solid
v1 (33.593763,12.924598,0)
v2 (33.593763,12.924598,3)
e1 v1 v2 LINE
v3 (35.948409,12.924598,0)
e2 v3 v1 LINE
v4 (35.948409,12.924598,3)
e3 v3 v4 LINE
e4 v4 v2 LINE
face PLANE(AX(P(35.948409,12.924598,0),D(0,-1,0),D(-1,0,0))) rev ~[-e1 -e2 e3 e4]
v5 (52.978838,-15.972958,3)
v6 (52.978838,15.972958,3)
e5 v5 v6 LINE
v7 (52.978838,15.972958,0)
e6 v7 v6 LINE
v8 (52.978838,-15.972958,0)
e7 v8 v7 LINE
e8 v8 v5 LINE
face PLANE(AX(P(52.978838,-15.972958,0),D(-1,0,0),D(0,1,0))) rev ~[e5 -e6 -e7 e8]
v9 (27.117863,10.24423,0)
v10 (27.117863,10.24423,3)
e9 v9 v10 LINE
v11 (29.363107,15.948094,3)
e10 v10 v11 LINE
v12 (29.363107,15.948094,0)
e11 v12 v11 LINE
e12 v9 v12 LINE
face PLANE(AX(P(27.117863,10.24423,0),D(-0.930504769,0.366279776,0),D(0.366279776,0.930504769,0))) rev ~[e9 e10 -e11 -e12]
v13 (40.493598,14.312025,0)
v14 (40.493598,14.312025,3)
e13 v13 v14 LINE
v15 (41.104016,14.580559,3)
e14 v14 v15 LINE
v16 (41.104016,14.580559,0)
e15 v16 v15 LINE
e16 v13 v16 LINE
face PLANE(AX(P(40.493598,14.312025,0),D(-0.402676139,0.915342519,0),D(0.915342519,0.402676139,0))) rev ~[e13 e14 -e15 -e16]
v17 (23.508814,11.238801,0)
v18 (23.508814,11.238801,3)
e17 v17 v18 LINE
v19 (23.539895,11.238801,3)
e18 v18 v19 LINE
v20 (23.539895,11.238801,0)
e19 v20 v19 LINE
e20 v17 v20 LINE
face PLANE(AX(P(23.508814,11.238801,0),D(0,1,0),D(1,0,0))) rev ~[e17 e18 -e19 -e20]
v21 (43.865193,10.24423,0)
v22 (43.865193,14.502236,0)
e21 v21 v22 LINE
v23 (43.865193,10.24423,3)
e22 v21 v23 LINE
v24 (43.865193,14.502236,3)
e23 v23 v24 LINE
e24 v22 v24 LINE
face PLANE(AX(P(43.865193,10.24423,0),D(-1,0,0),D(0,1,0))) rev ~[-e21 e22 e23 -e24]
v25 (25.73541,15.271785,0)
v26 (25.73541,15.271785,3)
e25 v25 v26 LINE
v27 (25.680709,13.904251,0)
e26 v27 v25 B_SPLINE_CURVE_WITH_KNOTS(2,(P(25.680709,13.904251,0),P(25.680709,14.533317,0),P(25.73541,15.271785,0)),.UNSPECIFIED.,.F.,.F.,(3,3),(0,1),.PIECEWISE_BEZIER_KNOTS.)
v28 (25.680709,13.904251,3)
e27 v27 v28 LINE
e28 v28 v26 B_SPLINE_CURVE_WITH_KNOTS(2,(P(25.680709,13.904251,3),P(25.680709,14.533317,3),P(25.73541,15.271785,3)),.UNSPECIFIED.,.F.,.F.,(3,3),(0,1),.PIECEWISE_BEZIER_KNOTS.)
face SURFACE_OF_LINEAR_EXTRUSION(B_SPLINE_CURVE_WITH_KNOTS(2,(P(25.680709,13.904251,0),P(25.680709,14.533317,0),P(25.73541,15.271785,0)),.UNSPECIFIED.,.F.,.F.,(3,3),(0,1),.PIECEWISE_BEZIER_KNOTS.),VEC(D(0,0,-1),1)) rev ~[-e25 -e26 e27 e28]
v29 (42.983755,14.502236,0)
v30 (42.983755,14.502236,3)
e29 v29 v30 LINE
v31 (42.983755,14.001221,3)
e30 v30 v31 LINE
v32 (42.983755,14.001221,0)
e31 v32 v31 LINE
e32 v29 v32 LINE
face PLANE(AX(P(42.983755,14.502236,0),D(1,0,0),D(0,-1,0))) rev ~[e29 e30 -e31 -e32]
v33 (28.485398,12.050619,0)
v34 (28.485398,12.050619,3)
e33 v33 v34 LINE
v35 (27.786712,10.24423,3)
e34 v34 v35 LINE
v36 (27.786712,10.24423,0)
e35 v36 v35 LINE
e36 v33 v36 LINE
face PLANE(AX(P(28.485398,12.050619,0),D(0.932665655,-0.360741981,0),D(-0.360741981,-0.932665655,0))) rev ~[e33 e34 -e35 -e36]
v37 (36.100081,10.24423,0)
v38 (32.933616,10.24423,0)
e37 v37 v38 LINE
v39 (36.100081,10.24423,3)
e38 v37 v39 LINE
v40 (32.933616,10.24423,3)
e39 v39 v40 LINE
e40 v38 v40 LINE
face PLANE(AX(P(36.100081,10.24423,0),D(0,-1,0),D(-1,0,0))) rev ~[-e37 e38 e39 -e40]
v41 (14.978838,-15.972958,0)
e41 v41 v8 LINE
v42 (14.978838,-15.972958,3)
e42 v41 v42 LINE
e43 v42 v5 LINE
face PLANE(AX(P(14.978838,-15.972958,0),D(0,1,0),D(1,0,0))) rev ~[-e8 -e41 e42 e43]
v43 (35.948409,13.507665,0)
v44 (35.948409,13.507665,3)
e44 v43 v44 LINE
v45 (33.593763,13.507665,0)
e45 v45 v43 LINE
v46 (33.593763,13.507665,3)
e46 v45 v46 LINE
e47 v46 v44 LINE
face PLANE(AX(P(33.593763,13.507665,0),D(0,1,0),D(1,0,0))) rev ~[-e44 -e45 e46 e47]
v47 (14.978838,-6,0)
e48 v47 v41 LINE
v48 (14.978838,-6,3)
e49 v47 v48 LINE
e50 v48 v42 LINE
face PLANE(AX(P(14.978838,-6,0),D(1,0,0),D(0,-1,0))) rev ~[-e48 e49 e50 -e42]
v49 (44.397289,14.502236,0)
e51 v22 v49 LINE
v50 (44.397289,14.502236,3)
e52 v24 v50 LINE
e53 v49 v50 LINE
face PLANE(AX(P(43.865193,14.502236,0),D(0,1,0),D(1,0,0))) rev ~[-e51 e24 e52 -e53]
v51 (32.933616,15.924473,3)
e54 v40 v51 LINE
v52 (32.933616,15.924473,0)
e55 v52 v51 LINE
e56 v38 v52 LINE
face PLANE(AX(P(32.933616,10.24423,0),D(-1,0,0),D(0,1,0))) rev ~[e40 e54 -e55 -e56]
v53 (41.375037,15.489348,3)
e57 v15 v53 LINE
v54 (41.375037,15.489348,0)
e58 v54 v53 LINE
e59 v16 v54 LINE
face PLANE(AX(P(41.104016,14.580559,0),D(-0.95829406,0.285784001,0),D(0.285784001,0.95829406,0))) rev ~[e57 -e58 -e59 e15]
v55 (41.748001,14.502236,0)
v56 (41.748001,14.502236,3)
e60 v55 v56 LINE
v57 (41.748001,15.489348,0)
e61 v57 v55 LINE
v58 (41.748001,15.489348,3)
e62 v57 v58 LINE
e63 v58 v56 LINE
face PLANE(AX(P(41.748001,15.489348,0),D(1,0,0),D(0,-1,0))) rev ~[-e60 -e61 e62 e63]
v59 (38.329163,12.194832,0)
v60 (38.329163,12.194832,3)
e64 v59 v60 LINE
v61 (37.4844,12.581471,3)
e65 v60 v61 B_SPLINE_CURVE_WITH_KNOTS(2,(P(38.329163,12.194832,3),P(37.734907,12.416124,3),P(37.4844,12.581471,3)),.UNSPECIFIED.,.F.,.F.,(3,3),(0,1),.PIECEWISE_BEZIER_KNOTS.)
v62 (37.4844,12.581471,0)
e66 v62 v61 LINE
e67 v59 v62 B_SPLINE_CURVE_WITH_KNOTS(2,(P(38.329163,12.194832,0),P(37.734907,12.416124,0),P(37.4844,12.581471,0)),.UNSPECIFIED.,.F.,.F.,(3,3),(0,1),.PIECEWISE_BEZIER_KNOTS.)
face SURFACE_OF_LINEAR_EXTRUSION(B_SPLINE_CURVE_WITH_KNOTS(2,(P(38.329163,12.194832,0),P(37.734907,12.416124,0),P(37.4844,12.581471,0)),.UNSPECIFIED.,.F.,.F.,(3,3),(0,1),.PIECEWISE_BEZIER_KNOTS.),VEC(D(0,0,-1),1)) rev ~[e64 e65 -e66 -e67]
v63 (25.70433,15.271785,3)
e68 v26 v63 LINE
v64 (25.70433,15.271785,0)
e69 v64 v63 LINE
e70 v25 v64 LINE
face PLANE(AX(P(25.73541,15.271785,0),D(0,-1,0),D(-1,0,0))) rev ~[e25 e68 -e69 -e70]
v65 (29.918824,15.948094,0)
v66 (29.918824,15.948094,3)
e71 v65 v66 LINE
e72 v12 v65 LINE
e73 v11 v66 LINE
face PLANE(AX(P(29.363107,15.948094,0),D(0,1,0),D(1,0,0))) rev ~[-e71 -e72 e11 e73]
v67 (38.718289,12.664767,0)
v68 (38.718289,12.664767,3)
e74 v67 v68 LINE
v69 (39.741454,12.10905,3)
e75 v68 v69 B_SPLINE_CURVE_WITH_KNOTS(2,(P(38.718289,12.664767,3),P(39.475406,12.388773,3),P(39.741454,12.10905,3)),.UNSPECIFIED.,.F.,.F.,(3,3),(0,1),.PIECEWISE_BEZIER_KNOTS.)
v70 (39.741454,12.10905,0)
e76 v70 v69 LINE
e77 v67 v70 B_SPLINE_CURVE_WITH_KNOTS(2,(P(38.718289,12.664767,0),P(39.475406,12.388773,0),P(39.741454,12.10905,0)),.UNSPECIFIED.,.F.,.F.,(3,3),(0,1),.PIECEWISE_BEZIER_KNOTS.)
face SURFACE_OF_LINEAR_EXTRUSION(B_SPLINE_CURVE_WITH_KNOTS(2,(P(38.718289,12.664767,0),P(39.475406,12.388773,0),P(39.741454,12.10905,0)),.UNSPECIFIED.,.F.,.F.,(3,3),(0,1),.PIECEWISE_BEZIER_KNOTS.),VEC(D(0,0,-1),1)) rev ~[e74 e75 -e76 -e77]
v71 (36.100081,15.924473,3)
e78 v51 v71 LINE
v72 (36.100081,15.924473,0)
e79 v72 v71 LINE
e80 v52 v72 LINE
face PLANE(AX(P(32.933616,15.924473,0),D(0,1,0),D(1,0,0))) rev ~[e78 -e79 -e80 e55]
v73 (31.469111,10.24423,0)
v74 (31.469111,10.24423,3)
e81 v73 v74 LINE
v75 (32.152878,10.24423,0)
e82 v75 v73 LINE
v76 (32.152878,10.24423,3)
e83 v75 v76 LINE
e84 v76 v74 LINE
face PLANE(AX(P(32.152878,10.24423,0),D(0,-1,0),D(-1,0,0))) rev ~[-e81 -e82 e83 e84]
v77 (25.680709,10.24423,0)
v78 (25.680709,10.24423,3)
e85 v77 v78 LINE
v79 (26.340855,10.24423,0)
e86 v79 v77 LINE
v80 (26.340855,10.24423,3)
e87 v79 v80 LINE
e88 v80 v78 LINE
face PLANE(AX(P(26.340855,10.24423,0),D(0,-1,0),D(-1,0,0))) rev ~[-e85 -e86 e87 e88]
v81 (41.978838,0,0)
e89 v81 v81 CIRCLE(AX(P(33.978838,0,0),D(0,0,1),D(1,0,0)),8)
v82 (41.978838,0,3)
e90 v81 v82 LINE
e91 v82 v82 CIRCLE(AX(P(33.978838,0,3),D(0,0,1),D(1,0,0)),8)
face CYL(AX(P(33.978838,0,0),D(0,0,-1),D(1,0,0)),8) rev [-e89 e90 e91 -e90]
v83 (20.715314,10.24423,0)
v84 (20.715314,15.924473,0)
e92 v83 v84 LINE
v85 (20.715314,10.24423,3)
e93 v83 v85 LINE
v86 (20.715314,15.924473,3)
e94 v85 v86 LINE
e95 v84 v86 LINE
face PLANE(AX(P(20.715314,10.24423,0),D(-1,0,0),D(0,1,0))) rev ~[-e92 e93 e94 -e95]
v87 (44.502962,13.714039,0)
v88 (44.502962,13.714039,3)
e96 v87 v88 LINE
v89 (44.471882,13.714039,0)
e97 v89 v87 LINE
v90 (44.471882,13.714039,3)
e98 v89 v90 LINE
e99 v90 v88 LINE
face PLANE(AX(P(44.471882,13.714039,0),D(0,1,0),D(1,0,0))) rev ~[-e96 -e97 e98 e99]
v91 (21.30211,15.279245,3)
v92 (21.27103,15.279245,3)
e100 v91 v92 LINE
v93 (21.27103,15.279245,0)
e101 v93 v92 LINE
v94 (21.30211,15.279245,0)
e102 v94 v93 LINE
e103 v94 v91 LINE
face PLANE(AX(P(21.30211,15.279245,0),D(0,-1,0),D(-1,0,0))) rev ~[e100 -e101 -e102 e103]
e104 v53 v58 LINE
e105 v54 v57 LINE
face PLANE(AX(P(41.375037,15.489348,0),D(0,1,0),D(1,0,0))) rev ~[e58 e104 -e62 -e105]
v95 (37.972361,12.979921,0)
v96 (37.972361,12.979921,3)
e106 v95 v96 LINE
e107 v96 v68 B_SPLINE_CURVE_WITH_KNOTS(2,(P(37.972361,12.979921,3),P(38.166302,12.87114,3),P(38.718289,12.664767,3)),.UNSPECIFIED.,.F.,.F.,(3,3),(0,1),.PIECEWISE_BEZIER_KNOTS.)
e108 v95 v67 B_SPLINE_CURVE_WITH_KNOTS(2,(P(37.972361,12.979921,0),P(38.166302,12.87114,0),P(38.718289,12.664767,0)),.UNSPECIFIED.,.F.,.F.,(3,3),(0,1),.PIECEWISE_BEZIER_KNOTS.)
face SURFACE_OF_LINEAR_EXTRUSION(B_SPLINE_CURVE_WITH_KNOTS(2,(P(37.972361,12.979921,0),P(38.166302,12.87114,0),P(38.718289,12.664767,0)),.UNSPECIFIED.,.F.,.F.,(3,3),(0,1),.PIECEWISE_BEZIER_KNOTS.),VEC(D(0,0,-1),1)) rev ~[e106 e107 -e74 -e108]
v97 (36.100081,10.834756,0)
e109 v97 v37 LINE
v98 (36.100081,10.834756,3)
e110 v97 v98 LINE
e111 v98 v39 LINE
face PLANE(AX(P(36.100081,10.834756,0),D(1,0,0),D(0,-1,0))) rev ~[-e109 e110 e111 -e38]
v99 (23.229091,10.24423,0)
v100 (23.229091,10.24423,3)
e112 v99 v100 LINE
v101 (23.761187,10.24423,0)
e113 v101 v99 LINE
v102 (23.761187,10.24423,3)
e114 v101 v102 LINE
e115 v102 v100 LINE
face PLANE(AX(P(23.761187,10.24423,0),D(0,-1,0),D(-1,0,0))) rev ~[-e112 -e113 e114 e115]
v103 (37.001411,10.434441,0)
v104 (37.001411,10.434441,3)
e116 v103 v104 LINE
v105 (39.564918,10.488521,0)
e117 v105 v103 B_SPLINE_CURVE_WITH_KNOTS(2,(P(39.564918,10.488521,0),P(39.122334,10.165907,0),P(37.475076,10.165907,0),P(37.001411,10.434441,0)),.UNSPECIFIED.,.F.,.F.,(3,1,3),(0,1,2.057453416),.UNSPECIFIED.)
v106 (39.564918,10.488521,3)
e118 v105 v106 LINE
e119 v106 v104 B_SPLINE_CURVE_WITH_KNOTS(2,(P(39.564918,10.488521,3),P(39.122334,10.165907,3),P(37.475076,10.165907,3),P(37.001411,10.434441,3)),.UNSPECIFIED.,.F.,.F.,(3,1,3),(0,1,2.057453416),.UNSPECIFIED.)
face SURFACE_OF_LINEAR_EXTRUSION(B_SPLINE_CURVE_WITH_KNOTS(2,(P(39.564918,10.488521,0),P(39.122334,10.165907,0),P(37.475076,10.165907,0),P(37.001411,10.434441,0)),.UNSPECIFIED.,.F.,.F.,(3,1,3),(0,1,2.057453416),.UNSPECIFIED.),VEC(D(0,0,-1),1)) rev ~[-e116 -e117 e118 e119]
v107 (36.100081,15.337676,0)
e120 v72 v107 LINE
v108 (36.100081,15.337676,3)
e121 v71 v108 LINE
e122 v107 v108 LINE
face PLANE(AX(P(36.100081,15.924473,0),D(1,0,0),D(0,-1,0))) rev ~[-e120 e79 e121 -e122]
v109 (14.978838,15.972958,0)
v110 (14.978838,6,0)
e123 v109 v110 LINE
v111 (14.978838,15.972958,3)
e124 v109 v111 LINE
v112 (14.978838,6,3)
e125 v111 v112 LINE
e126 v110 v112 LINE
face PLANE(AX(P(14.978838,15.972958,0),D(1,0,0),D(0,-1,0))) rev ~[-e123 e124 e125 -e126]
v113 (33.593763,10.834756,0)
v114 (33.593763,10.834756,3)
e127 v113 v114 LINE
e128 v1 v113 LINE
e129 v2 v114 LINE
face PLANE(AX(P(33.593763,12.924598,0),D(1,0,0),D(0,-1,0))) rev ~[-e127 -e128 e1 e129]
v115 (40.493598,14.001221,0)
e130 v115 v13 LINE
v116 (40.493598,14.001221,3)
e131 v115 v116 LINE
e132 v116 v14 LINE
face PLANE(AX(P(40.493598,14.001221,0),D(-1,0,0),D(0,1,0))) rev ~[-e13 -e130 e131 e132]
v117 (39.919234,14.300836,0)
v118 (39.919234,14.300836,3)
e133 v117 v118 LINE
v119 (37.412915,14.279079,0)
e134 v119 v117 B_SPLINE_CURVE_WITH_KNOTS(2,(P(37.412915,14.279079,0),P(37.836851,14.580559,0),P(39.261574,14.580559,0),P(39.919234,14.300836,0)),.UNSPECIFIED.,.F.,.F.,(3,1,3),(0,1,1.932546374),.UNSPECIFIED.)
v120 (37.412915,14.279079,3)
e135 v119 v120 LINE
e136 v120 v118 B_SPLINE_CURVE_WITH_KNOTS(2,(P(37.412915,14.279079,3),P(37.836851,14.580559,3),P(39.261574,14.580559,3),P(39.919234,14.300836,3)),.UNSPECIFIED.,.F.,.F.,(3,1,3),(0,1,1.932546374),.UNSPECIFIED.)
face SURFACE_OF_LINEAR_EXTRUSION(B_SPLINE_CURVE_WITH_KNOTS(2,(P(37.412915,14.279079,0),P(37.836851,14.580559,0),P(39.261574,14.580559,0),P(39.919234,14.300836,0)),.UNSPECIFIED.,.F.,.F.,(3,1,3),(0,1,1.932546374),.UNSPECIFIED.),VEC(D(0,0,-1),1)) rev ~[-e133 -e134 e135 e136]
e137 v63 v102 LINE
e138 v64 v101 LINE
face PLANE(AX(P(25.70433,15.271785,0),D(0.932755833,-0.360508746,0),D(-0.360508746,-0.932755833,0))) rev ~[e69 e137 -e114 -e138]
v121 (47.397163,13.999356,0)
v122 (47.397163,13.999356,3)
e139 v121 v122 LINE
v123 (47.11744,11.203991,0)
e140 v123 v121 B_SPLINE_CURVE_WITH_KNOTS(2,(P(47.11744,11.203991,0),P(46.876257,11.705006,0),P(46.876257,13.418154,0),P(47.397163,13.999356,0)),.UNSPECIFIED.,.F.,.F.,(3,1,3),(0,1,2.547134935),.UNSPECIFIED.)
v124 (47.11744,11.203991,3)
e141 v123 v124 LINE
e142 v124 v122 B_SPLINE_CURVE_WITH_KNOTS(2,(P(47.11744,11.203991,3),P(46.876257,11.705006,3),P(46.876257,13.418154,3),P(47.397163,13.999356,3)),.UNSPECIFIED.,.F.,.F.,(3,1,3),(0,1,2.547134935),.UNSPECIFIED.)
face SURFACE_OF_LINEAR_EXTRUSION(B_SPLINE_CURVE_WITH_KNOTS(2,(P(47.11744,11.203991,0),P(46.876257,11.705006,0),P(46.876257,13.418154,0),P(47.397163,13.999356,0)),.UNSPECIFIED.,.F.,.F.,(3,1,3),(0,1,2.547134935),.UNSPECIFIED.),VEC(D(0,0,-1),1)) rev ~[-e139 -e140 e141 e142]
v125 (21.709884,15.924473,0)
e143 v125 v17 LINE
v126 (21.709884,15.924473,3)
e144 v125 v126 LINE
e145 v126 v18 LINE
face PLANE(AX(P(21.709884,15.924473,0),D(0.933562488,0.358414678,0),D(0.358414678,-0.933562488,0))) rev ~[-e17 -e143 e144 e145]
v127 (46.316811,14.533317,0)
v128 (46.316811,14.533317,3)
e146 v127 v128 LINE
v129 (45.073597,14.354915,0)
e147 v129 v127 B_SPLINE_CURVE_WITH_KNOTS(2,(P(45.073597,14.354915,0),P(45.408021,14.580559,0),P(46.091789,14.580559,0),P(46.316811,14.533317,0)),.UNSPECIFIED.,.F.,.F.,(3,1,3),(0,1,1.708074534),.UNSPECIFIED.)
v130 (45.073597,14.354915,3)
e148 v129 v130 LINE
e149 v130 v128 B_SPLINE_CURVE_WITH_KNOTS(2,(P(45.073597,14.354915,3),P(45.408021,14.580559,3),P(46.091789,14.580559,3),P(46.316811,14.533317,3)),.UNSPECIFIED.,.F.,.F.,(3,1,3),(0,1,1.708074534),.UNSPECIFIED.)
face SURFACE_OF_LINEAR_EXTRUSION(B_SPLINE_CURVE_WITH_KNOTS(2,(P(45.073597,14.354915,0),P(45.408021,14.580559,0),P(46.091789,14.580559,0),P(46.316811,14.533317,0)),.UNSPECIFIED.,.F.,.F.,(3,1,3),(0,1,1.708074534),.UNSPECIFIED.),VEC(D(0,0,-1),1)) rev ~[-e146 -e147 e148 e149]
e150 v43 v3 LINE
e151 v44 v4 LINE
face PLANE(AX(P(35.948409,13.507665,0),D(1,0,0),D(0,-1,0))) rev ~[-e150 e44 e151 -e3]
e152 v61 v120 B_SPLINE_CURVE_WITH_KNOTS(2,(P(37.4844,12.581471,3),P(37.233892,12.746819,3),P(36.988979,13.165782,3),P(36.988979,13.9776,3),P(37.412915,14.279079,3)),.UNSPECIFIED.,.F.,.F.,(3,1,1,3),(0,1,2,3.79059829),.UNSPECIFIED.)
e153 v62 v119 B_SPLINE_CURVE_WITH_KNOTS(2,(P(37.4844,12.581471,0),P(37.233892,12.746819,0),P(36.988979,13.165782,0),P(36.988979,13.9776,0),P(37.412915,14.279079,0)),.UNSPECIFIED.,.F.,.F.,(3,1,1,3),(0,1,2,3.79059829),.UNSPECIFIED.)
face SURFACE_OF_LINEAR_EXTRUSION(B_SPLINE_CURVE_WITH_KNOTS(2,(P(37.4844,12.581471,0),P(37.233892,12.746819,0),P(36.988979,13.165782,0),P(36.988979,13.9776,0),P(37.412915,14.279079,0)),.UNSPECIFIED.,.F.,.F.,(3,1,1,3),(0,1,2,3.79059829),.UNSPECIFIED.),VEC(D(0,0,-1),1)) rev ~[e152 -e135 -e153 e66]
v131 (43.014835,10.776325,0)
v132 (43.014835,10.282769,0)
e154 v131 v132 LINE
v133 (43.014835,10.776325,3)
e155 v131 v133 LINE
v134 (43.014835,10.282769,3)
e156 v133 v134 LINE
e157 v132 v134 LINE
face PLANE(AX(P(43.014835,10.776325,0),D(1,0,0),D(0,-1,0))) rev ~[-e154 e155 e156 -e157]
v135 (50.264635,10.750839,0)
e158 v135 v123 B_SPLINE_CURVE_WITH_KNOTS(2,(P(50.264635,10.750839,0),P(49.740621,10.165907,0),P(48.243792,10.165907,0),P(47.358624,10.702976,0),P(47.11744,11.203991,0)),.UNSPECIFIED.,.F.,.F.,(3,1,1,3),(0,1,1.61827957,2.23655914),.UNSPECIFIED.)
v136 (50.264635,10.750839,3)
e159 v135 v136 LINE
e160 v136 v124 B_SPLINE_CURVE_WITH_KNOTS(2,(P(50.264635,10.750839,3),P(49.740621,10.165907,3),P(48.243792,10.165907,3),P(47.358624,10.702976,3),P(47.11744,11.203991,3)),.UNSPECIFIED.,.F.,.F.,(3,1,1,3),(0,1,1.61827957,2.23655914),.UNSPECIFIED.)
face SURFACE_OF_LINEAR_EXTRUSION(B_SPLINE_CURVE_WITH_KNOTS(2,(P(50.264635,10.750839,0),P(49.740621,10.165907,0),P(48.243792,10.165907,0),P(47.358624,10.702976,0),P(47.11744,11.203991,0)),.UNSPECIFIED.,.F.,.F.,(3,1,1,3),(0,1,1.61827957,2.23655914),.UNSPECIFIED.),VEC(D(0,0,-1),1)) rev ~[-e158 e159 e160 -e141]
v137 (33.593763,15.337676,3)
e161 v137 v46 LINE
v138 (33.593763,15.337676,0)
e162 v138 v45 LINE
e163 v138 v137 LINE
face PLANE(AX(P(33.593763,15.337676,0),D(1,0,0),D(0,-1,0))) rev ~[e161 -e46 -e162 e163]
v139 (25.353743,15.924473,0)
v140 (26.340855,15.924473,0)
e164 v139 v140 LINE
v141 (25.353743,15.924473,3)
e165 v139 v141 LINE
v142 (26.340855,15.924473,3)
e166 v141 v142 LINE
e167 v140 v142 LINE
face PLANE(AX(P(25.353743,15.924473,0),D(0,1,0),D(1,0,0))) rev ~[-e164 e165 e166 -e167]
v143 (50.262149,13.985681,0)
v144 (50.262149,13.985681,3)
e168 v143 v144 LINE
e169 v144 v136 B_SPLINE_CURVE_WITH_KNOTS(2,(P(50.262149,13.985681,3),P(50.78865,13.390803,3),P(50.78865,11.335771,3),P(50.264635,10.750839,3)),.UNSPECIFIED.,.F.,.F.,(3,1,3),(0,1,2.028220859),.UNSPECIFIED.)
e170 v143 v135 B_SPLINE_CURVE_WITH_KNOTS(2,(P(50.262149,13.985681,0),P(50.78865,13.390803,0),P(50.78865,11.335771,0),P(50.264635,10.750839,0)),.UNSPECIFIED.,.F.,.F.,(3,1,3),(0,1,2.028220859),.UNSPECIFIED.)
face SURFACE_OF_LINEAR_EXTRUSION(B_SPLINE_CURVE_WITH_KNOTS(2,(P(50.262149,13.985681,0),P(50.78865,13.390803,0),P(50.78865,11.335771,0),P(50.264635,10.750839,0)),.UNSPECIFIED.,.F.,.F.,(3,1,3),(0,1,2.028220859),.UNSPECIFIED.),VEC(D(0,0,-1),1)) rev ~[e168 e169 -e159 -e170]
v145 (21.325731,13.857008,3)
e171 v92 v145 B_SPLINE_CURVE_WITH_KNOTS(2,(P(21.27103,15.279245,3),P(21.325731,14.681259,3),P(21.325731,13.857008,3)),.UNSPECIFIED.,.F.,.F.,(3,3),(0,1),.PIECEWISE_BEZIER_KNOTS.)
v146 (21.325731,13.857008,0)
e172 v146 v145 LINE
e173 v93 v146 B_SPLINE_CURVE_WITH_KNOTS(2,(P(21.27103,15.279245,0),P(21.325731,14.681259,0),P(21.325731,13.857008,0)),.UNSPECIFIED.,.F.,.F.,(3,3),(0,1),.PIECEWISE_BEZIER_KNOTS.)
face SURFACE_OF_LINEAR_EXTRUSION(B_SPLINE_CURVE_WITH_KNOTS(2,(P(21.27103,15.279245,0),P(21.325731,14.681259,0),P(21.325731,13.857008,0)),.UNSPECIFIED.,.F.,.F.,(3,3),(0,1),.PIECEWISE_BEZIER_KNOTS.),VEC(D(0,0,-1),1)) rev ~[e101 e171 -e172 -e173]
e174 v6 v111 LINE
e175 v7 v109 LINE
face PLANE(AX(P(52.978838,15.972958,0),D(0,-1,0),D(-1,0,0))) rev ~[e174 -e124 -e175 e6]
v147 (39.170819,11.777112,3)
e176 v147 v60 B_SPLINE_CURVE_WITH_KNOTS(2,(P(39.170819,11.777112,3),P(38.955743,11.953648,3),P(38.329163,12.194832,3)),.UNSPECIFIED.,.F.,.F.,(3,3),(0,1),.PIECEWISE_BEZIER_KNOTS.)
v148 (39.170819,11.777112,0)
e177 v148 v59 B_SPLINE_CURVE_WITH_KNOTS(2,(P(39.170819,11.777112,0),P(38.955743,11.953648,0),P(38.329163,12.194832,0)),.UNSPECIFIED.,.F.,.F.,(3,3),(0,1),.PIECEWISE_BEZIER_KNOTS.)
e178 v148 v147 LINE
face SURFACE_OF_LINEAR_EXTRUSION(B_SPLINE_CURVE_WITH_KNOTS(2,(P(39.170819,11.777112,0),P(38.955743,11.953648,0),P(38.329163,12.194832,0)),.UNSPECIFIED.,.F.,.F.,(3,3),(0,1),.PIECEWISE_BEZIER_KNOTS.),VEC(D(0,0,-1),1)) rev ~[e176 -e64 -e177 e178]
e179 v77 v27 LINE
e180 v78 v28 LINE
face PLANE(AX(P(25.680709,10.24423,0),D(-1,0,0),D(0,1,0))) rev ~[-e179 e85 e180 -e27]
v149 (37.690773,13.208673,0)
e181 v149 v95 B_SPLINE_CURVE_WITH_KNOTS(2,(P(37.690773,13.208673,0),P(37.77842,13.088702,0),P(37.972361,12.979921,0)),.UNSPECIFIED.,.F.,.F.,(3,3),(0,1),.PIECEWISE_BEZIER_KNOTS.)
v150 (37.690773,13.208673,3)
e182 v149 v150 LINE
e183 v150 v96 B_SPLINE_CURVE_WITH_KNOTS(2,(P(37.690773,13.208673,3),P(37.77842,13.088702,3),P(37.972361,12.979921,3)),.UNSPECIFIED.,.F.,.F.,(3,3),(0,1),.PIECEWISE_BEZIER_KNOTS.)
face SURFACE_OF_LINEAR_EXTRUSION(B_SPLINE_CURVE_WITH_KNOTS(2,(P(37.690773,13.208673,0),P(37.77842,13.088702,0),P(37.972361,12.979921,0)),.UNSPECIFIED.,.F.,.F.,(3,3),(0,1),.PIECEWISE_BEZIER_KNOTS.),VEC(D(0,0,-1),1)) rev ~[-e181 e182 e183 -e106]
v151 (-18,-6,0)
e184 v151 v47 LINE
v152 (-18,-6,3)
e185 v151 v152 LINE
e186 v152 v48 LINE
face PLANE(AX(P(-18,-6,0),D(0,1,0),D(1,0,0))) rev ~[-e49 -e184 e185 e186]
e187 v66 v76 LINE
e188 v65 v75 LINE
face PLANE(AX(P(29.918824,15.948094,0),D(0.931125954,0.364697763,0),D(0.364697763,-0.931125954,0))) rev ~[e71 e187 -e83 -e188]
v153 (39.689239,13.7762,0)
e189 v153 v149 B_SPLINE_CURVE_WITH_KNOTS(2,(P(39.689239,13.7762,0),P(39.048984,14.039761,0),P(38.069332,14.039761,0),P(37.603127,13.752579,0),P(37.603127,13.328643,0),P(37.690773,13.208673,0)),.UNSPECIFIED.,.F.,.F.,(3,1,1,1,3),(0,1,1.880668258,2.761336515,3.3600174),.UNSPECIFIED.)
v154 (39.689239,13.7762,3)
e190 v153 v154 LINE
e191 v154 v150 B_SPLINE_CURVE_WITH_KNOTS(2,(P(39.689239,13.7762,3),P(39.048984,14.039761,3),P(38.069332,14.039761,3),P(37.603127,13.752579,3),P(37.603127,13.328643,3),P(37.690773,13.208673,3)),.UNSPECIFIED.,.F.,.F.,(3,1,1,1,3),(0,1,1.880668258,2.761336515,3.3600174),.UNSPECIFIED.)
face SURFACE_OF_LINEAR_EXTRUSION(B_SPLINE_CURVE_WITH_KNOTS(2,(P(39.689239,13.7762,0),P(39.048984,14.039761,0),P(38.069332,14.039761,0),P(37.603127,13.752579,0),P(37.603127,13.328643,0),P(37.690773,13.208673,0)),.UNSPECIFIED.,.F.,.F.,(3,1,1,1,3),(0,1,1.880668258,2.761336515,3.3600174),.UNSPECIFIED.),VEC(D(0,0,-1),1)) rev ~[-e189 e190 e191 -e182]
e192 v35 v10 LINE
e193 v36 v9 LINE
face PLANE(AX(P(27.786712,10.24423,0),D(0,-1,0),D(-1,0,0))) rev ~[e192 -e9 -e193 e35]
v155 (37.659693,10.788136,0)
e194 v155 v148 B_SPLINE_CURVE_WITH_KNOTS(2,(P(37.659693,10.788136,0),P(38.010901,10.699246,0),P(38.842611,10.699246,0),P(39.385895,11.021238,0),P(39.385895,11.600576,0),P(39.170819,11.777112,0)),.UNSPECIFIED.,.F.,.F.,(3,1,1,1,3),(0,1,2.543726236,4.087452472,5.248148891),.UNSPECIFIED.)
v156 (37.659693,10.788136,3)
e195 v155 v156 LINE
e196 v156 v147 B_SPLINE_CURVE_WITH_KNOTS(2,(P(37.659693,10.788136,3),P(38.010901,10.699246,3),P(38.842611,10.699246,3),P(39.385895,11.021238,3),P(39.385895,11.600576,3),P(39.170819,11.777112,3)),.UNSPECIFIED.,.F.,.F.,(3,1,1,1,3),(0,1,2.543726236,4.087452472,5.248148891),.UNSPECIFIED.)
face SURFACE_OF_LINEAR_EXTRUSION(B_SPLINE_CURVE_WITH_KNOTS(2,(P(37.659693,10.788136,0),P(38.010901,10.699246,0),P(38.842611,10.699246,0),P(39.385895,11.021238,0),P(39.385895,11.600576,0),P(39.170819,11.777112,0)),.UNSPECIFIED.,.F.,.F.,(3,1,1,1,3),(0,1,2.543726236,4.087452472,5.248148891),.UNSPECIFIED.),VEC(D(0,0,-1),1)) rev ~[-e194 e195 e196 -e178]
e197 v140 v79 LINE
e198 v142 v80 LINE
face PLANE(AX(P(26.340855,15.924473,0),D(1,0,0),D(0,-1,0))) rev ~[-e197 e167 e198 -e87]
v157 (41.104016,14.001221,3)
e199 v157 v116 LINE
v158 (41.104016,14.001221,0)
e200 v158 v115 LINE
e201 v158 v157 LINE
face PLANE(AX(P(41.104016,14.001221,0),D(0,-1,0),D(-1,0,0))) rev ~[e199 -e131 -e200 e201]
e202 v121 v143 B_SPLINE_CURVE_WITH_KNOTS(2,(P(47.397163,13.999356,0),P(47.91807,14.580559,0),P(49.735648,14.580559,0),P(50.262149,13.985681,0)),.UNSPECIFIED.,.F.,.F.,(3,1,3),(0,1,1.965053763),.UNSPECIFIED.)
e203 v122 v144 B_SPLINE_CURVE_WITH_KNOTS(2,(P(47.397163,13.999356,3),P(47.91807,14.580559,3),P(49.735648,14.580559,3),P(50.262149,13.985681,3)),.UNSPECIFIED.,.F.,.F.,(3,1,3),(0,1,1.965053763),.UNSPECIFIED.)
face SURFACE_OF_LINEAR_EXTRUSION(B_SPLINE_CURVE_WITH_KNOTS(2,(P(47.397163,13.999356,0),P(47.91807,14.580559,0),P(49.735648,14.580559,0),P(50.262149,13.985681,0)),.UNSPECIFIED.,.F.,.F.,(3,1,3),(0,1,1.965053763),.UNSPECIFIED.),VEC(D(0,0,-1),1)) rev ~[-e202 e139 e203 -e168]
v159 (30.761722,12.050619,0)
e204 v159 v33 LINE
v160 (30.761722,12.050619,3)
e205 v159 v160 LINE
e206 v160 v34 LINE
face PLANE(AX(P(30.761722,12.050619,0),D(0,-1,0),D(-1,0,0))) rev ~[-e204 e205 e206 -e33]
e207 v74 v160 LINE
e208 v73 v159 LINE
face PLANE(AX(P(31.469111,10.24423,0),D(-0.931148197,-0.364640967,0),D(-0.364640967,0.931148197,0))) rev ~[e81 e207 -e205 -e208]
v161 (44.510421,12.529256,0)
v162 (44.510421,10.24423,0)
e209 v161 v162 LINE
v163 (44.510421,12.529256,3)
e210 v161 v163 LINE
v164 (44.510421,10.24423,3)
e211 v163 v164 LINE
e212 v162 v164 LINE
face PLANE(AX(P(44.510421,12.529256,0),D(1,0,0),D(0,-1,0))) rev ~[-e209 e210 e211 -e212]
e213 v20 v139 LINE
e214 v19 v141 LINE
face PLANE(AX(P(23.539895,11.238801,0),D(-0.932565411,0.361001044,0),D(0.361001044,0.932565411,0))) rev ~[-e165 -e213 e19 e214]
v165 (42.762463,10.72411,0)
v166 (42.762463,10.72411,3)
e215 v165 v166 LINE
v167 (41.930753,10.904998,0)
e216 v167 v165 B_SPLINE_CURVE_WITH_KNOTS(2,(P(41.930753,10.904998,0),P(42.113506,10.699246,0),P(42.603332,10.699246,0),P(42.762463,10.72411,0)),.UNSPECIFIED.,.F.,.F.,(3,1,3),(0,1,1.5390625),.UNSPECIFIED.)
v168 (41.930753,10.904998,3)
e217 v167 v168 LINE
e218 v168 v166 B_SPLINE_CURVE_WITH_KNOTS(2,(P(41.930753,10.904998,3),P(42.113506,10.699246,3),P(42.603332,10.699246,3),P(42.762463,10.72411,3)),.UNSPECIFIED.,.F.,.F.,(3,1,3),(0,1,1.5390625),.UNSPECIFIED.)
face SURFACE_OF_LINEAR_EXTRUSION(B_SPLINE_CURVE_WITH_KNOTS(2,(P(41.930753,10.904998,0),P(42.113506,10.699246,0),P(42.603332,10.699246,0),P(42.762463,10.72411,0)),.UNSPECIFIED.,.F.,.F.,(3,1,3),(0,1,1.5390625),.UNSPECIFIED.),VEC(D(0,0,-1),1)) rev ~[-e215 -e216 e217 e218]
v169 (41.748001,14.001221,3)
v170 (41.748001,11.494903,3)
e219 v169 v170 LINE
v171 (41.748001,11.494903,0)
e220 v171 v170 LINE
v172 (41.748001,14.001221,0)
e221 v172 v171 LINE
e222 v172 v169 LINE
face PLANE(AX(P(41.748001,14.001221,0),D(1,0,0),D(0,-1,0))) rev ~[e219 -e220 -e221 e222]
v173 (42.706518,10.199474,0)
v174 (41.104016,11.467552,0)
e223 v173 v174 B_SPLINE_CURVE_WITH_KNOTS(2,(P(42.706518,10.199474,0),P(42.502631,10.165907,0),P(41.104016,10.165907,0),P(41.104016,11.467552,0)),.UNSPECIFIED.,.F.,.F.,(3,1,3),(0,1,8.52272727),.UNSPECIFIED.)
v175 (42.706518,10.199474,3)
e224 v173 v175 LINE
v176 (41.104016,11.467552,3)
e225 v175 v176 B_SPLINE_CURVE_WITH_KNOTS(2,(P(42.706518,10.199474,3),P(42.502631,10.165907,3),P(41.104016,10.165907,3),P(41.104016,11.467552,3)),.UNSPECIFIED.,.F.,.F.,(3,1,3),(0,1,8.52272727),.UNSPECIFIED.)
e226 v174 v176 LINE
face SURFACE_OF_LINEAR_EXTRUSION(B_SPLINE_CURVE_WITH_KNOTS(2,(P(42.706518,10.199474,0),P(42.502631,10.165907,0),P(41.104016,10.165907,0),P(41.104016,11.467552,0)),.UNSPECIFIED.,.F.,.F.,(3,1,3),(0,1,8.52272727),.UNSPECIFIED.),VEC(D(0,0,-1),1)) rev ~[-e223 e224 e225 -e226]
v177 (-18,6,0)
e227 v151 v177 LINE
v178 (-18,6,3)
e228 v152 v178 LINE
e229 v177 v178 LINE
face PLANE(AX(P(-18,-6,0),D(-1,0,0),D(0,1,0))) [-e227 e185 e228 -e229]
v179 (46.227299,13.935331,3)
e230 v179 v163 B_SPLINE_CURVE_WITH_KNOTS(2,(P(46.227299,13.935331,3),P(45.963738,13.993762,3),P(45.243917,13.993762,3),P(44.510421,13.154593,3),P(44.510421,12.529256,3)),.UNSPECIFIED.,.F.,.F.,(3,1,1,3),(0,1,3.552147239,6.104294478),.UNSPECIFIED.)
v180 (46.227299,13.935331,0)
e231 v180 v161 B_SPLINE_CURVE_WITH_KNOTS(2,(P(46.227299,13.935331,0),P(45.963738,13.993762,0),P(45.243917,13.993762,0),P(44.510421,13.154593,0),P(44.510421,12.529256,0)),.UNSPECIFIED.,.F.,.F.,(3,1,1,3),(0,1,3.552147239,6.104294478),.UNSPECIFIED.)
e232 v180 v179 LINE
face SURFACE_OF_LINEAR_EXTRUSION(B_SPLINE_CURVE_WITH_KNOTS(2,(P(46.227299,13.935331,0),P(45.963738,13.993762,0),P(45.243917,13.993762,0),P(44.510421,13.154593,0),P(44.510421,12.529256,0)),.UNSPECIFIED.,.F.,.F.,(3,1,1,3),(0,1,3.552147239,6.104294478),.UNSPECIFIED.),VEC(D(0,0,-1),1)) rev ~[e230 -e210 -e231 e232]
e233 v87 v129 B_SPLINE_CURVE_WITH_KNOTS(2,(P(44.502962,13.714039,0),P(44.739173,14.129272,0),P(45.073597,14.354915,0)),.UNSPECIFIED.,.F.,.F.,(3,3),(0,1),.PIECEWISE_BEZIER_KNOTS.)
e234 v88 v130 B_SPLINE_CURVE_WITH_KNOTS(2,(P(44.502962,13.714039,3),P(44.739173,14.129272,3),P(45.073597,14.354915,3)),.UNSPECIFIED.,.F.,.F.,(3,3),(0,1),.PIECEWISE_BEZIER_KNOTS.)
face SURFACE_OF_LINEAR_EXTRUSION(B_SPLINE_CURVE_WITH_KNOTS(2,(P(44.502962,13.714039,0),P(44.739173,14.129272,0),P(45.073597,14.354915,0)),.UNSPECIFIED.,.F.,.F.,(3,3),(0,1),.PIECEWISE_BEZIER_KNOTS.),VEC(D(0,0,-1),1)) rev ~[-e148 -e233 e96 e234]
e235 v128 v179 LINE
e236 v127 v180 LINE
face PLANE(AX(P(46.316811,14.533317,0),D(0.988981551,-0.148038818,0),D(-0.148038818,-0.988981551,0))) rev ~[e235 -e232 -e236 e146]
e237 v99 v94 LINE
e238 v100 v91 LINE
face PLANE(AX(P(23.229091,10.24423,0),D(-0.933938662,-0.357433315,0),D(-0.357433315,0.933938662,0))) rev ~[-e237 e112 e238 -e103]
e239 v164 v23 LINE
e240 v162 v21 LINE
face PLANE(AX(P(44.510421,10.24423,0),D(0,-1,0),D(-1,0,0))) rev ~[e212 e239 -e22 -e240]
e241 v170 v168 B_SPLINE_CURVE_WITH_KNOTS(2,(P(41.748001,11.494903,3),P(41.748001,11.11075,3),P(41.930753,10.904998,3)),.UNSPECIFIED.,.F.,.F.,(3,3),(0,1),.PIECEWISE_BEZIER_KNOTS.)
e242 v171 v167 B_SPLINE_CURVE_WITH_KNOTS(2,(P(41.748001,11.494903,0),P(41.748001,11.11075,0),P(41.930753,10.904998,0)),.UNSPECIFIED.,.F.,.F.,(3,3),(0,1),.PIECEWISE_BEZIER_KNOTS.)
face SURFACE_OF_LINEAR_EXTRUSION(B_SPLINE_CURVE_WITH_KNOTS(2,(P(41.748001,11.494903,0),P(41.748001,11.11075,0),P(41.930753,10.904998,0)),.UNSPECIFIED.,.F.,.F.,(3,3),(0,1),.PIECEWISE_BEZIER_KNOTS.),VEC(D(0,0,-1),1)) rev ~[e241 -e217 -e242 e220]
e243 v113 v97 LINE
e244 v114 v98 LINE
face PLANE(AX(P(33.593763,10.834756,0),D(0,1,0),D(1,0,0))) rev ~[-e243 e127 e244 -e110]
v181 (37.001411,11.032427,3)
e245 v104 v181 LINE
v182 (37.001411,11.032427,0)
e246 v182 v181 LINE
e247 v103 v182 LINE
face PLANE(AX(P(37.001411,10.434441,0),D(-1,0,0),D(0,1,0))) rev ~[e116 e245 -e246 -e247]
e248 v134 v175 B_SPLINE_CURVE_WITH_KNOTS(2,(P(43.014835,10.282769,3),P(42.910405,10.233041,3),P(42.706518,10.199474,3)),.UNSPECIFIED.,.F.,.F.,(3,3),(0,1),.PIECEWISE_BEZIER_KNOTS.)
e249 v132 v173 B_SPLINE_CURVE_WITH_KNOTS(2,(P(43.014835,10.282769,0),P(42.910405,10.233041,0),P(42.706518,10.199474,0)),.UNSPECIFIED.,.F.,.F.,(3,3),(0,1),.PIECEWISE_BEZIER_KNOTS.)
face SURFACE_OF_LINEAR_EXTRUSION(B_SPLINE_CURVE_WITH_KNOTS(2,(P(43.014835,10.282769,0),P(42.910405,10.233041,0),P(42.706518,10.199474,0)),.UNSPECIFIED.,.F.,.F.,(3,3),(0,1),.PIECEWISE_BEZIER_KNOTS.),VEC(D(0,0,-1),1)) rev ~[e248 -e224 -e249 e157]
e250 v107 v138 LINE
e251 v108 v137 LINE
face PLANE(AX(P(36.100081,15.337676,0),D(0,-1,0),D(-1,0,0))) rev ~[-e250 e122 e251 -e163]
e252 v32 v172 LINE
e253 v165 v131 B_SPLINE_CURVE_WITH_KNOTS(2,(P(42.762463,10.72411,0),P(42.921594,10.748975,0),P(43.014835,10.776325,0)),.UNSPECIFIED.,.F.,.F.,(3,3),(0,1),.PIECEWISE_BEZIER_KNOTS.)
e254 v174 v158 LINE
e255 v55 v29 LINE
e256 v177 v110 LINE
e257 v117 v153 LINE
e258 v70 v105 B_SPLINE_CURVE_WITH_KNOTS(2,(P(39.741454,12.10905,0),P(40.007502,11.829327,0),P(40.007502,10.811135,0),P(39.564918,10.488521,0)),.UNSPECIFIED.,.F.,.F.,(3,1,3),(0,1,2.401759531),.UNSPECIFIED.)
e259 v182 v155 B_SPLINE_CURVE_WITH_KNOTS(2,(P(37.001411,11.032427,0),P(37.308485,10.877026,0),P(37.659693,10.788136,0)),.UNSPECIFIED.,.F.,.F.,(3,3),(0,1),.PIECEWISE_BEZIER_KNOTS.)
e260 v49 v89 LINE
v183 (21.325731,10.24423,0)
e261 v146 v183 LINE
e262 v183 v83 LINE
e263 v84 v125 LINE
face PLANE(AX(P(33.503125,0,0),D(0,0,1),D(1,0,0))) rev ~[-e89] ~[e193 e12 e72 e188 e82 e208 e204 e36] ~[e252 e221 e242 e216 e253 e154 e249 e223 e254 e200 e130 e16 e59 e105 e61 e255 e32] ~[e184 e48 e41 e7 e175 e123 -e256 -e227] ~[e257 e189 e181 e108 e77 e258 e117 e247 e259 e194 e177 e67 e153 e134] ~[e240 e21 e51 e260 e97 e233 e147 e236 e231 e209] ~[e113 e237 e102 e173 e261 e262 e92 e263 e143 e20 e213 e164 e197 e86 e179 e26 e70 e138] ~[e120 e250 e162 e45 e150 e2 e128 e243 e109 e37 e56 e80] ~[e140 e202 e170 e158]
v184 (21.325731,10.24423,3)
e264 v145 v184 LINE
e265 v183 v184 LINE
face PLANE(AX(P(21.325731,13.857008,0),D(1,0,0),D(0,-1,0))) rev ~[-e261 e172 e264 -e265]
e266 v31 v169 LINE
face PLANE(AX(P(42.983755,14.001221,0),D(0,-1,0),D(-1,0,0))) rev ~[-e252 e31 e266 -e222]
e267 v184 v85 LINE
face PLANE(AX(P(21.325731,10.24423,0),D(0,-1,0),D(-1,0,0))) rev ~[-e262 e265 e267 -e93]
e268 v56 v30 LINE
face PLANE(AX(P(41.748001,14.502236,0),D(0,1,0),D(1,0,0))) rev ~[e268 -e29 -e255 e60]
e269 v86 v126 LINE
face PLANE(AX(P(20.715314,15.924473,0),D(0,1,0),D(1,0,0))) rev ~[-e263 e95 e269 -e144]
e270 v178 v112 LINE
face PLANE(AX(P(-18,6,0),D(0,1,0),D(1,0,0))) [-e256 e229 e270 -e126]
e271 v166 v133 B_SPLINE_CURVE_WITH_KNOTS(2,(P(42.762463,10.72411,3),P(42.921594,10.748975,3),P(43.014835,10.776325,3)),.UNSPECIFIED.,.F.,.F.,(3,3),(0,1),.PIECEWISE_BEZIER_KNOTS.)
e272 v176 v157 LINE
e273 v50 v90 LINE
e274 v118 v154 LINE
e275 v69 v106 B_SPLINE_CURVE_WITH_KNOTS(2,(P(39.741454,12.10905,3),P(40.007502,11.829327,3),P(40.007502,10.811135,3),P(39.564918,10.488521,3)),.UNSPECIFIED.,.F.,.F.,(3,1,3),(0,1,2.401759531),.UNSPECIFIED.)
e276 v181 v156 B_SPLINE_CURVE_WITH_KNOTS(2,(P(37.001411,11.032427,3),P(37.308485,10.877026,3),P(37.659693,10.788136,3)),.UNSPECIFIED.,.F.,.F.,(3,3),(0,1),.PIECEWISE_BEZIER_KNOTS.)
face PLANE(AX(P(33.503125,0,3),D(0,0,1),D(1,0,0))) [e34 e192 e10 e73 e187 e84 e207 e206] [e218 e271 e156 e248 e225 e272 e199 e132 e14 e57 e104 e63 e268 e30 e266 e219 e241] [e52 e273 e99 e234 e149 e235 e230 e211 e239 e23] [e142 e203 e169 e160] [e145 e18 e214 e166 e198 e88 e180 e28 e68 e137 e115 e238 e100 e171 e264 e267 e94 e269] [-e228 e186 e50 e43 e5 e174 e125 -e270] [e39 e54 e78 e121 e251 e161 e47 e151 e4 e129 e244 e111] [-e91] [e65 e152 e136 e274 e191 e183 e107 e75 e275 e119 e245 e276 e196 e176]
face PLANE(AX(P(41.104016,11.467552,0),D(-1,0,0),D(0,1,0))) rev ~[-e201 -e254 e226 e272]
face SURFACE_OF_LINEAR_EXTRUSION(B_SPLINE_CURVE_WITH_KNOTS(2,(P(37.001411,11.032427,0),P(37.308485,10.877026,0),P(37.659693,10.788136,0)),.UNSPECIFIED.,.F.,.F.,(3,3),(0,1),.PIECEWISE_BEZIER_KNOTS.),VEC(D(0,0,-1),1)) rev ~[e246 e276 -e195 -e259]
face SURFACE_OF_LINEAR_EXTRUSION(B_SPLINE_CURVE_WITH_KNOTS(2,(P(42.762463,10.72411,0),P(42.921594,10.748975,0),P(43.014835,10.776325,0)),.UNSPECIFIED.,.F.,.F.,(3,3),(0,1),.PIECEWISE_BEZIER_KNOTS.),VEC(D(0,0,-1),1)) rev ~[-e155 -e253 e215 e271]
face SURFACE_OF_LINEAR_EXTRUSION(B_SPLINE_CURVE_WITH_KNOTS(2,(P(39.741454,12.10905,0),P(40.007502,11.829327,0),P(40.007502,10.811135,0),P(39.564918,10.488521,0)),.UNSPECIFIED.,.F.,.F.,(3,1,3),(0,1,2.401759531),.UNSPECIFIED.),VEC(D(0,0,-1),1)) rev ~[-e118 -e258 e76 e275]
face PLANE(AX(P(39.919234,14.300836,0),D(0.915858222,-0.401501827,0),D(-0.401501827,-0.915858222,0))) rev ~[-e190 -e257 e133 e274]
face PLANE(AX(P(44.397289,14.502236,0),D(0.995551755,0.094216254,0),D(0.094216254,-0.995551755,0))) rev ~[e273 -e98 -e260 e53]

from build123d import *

# Parameters (mm, degrees)
F0_R     = 8
F0_W     = 3.0211615264
F0_H     = 12
F0_W_2   = 32.9788384736
F1_DEPTH = 3


with BuildPart() as f1:
    # F0 (on Top) → F1 (new body)
    with BuildSketch(Plane.XY):
        Polygon((14.9788384736, 6), (18, 6), (18, -6), (14.9788384736, -6), (14.9788384736, -15.9729579464), (52.9788384736, -15.9729579464), (52.9788384736, 15.9729579464), (14.9788384736, 15.9729579464), align=None)
        with Locations((33.9788384736, 0)):
            Circle(F0_R, mode=Mode.SUBTRACT)
        with BuildLine():
            Line((23.7611867672, 10.2442298084), (23.2290913585, 10.2442298084))
            Line((23.2290913585, 10.2442298084), (21.3021103226, 15.2792447734))
            Line((21.3021103226, 15.2792447734), (21.2710299833, 15.2792447734))
            add(Edge.make_bspline(
                [(21.2710299833, 15.2792447734), (21.3257313804, 14.6812590455), (21.3257313804, 13.8570084475)],
                knots=[0, 0, 0, 1, 1, 1], degree=2))
            Line((21.3257313804, 13.8570084475), (21.3257313804, 10.2442298084))
            Line((21.3257313804, 10.2442298084), (20.7153135168, 10.2442298084))
            Line((20.7153135168, 10.2442298084), (20.7153135168, 15.9244726171))
            Line((20.7153135168, 15.9244726171), (21.709884374, 15.9244726171))
            Line((21.709884374, 15.9244726171), (23.5088144121, 11.2388006657))
            Line((23.5088144121, 11.2388006657), (23.5398947514, 11.2388006657))
            Line((23.5398947514, 11.2388006657), (25.3537433524, 15.9244726171))
            Line((25.3537433524, 15.9244726171), (26.3408549282, 15.9244726171))
            Line((26.3408549282, 15.9244726171), (26.3408549282, 10.2442298084))
            Line((26.3408549282, 10.2442298084), (25.6807085217, 10.2442298084))
            Line((25.6807085217, 10.2442298084), (25.6807085217, 13.9042505632))
            add(Edge.make_bspline(
                [(25.6807085217, 13.9042505632), (25.6807085217, 14.5333166305), (25.7354099189, 15.271785492)],
                knots=[0, 0, 0, 1, 1, 1], degree=2))
            Line((25.7354099189, 15.271785492), (25.7043295796, 15.271785492))
            Line((25.7043295796, 15.271785492), (23.7611867672, 10.2442298084))
        make_face(mode=Mode.SUBTRACT)
        Polygon((32.1528783754, 10.2442298084), (31.4691109111, 10.2442298084), (30.7617223888, 12.050619128), (28.4853983392, 12.050619128), (27.786712312, 10.2442298084), (27.1178634105, 10.2442298084), (29.3631071208, 15.9480936749), (29.9188235873, 15.9480936749), align=None, mode=Mode.SUBTRACT)
        Polygon((36.1000814652, 10.834756255), (36.1000814652, 10.2442298084), (32.9336164984, 10.2442298084), (32.9336164984, 15.9244726171), (36.1000814652, 15.9244726171), (36.1000814652, 15.3376758113), (33.5937629049, 15.3376758113), (33.5937629049, 13.5076654339), (35.9484094095, 13.5076654339), (35.9484094095, 12.9245982688), (33.5937629049, 12.9245982688), (33.5937629049, 10.834756255), align=None, mode=Mode.SUBTRACT)
        with BuildLine():
            add(Edge.make_bspline(
                [(39.7414540164, 12.1090501658), (40.0075017208, 11.8293271122), (40.0075017208, 11.4053912843)],
                knots=[0, 0, 0, 1, 1, 1], degree=2))
            add(Edge.make_bspline(
                [(40.0075017208, 11.4053912843), (40.0075017208, 10.8111351971), (39.5649176893, 10.4885212753)],
                knots=[0, 0, 0, 1, 1, 1], degree=2))
            add(Edge.make_bspline(
                [(39.5649176893, 10.4885212753), (39.1223336578, 10.1659073534), (38.3217041177, 10.1659073534)],
                knots=[0, 0, 0, 1, 1, 1], degree=2))
            add(Edge.make_bspline(
                [(38.3217041177, 10.1659073534), (37.4750756754, 10.1659073534), (37.0014113047, 10.4344414849)],
                knots=[0, 0, 0, 1, 1, 1], degree=2))
            Line((37.0014113047, 10.4344414849), (37.0014113047, 11.0324272128))
            add(Edge.make_bspline(
                [(37.0014113047, 11.0324272128), (37.3084850568, 10.8770255164), (37.6596928908, 10.788135746)],
                knots=[0, 0, 0, 1, 1, 1], degree=2))
            add(Edge.make_bspline(
                [(37.6596928908, 10.788135746), (38.0109007248, 10.6992459757), (38.3378658941, 10.6992459757)],
                knots=[0, 0, 0, 1, 1, 1], degree=2))
            add(Edge.make_bspline(
                [(38.3378658941, 10.6992459757), (38.8426106042, 10.6992459757), (39.1142527696, 10.8602421332)],
                knots=[0, 0, 0, 1, 1, 1], degree=2))
            add(Edge.make_bspline(
                [(39.1142527696, 10.8602421332), (39.385894935, 11.0212382907), (39.385894935, 11.3519331007)],
                knots=[0, 0, 0, 1, 1, 1], degree=2))
            add(Edge.make_bspline(
                [(39.385894935, 11.3519331007), (39.385894935, 11.6005758151), (39.1708189871, 11.7771121422)],
                knots=[0, 0, 0, 1, 1, 1], degree=2))
            add(Edge.make_bspline(
                [(39.1708189871, 11.7771121422), (38.9557430392, 11.9536484694), (38.3291633991, 12.1948319023)],
                knots=[0, 0, 0, 1, 1, 1], degree=2))
            add(Edge.make_bspline(
                [(38.3291633991, 12.1948319023), (37.7349073119, 12.416123918), (37.4843997772, 12.581471323)],
                knots=[0, 0, 0, 1, 1, 1], degree=2))
            add(Edge.make_bspline(
                [(37.4843997772, 12.581471323), (37.2338922425, 12.7468187281), (37.1114357057, 12.9563002149)],
                knots=[0, 0, 0, 1, 1, 1], degree=2))
            add(Edge.make_bspline(
                [(37.1114357057, 12.9563002149), (36.9889791689, 13.1657817017), (36.9889791689, 13.4566936775)],
                knots=[0, 0, 0, 1, 1, 1], degree=2))
            add(Edge.make_bspline(
                [(36.9889791689, 13.4566936775), (36.9889791689, 13.9776001639), (37.4129149969, 14.2790794551)],
                knots=[0, 0, 0, 1, 1, 1], degree=2))
            add(Edge.make_bspline(
                [(37.4129149969, 14.2790794551), (37.8368508248, 14.5805587462), (38.5740764727, 14.5805587462)],
                knots=[0, 0, 0, 1, 1, 1], degree=2))
            add(Edge.make_bspline(
                [(38.5740764727, 14.5805587462), (39.2615735778, 14.5805587462), (39.9192335572, 14.3008356926)],
                knots=[0, 0, 0, 1, 1, 1], degree=2))
            Line((39.9192335572, 14.3008356926), (39.6892390464, 13.7761995654))
            add(Edge.make_bspline(
                [(39.6892390464, 13.7761995654), (39.0489840571, 14.0397608425), (38.5280775706, 14.0397608425)],
                knots=[0, 0, 0, 1, 1, 1], degree=2))
            add(Edge.make_bspline(
                [(38.5280775706, 14.0397608425), (38.0693317627, 14.0397608425), (37.836229218, 13.896169675)],
                knots=[0, 0, 0, 1, 1, 1], degree=2))
            add(Edge.make_bspline(
                [(37.836229218, 13.896169675), (37.6031266733, 13.7525785075), (37.6031266733, 13.5002061525)],
                knots=[0, 0, 0, 1, 1, 1], degree=2))
            add(Edge.make_bspline(
                [(37.6031266733, 13.5002061525), (37.6031266733, 13.3286426796), (37.6907732301, 13.2086725699)],
                knots=[0, 0, 0, 1, 1, 1], degree=2))
            add(Edge.make_bspline(
                [(37.6907732301, 13.2086725699), (37.7784197869, 13.0887024603), (37.9723611041, 12.9799212727)],
                knots=[0, 0, 0, 1, 1, 1], degree=2))
            add(Edge.make_bspline(
                [(37.9723611041, 12.9799212727), (38.1663024212, 12.8711400852), (38.718289247, 12.6647666323)],
                knots=[0, 0, 0, 1, 1, 1], degree=2))
            add(Edge.make_bspline(
                [(38.718289247, 12.6647666323), (39.4754063121, 12.3887732195), (39.7414540164, 12.1090501658)],
                knots=[0, 0, 0, 1, 1, 1], degree=2))
        make_face(mode=Mode.SUBTRACT)
        with BuildLine():
            add(Edge.make_bspline(
                [(41.930753116, 10.9049978218), (42.1135055111, 10.6992459757), (42.4317681854, 10.6992459757)],
                knots=[0, 0, 0, 1, 1, 1], degree=2))
            add(Edge.make_bspline(
                [(42.4317681854, 10.6992459757), (42.6033316583, 10.6992459757), (42.7624629954, 10.7241102471)],
                knots=[0, 0, 0, 1, 1, 1], degree=2))
            add(Edge.make_bspline(
                [(42.7624629954, 10.7241102471), (42.9215943326, 10.7489745185), (43.0148353505, 10.7763252171)],
                knots=[0, 0, 0, 1, 1, 1], degree=2))
            Line((43.0148353505, 10.7763252171), (43.0148353505, 10.2827694292))
            add(Edge.make_bspline(
                [(43.0148353505, 10.2827694292), (42.9104054104, 10.2330408863), (42.7065183847, 10.1994741199)],
                knots=[0, 0, 0, 1, 1, 1], degree=2))
            add(Edge.make_bspline(
                [(42.7065183847, 10.1994741199), (42.502631359, 10.1659073534), (42.3385271675, 10.1659073534)],
                knots=[0, 0, 0, 1, 1, 1], degree=2))
            add(Edge.make_bspline(
                [(42.3385271675, 10.1659073534), (41.1040160909, 10.1659073534), (41.1040160909, 11.4675519629)],
                knots=[0, 0, 0, 1, 1, 1], degree=2))
            Line((41.1040160909, 11.4675519629), (41.1040160909, 14.0012212218))
            Line((41.1040160909, 14.0012212218), (40.4935982273, 14.0012212218))
            Line((40.4935982273, 14.0012212218), (40.4935982273, 14.3120246147))
            Line((40.4935982273, 14.3120246147), (41.1040160909, 14.5805587462))
            Line((41.1040160909, 14.5805587462), (41.3750366495, 15.489347867))
            Line((41.3750366495, 15.489347867), (41.748000721, 15.489347867))
            Line((41.748000721, 15.489347867), (41.748000721, 14.5022362912))
            Line((41.748000721, 14.5022362912), (42.9837550112, 14.5022362912))
            Line((42.9837550112, 14.5022362912), (42.9837550112, 14.0012212218))
            Line((42.9837550112, 14.0012212218), (41.748000721, 14.0012212218))
            Line((41.748000721, 14.0012212218), (41.748000721, 11.4949026615))
            add(Edge.make_bspline(
                [(41.748000721, 11.4949026615), (41.748000721, 11.1107496679), (41.930753116, 10.9049978218)],
                knots=[0, 0, 0, 1, 1, 1], degree=2))
        make_face(mode=Mode.SUBTRACT)
        with BuildLine():
            add(Edge.make_bspline(
                [(45.073597025, 14.3549154829), (45.4080214758, 14.5805587462), (45.8083362458, 14.5805587462)],
                knots=[0, 0, 0, 1, 1, 1], degree=2))
            add(Edge.make_bspline(
                [(45.8083362458, 14.5805587462), (46.0917889402, 14.5805587462), (46.3168105966, 14.5333166305)],
                knots=[0, 0, 0, 1, 1, 1], degree=2))
            Line((46.3168105966, 14.5333166305), (46.2272992195, 13.9353309025))
            add(Edge.make_bspline(
                [(46.2272992195, 13.9353309025), (45.9637379423, 13.9937619404), (45.7610941301, 13.9937619404)],
                knots=[0, 0, 0, 1, 1, 1], degree=2))
            add(Edge.make_bspline(
                [(45.7610941301, 13.9937619404), (45.2439172843, 13.9937619404), (44.8771692807, 13.57417736)],
                knots=[0, 0, 0, 1, 1, 1], degree=2))
            add(Edge.make_bspline(
                [(44.8771692807, 13.57417736), (44.5104212771, 13.1545927796), (44.5104212771, 12.529256353)],
                knots=[0, 0, 0, 1, 1, 1], degree=2))
            Line((44.5104212771, 12.529256353), (44.5104212771, 10.2442298084))
            Line((44.5104212771, 10.2442298084), (43.8651934334, 10.2442298084))
            Line((43.8651934334, 10.2442298084), (43.8651934334, 14.5022362912))
            Line((43.8651934334, 14.5022362912), (44.3972888421, 14.5022362912))
            Line((44.3972888421, 14.5022362912), (44.4718816564, 13.7140388868))
            Line((44.4718816564, 13.7140388868), (44.5029619957, 13.7140388868))
            add(Edge.make_bspline(
                [(44.5029619957, 13.7140388868), (44.7391725743, 14.1292722197), (45.073597025, 14.3549154829)],
                knots=[0, 0, 0, 1, 1, 1], degree=2))
        make_face(mode=Mode.SUBTRACT)
        with BuildLine():
            add(Edge.make_bspline(
                [(50.2621488661, 13.9856810522), (50.7886498136, 13.3908033582), (50.7886498136, 12.3775842973)],
                knots=[0, 0, 0, 1, 1, 1], degree=2))
            add(Edge.make_bspline(
                [(50.7886498136, 12.3775842973), (50.7886498136, 11.3357713243), (50.2646352932, 10.7508393389)],
                knots=[0, 0, 0, 1, 1, 1], degree=2))
            add(Edge.make_bspline(
                [(50.2646352932, 10.7508393389), (49.7406207728, 10.1659073534), (48.8156698755, 10.1659073534)],
                knots=[0, 0, 0, 1, 1, 1], degree=2))
            add(Edge.make_bspline(
                [(48.8156698755, 10.1659073534), (48.2437916326, 10.1659073534), (47.8012076011, 10.4344414849)],
                knots=[0, 0, 0, 1, 1, 1], degree=2))
            add(Edge.make_bspline(
                [(47.8012076011, 10.4344414849), (47.3586235696, 10.7029756164), (47.1174401367, 11.2039906857)],
                knots=[0, 0, 0, 1, 1, 1], degree=2))
            add(Edge.make_bspline(
                [(47.1174401367, 11.2039906857), (46.8762567038, 11.7050057551), (46.8762567038, 12.3775842973)],
                knots=[0, 0, 0, 1, 1, 1], degree=2))
            add(Edge.make_bspline(
                [(46.8762567038, 12.3775842973), (46.8762567038, 13.4181540567), (47.3971631903, 13.9993564015)],
                knots=[0, 0, 0, 1, 1, 1], degree=2))
            add(Edge.make_bspline(
                [(47.3971631903, 13.9993564015), (47.9180696768, 14.5805587462), (48.8430205741, 14.5805587462)],
                knots=[0, 0, 0, 1, 1, 1], degree=2))
            add(Edge.make_bspline(
                [(48.8430205741, 14.5805587462), (49.7356479185, 14.5805587462), (50.2621488661, 13.9856810522)],
                knots=[0, 0, 0, 1, 1, 1], degree=2))
        make_face(mode=Mode.SUBTRACT)
        with Locations((16.4894192368, 0)):
            Rectangle(F0_W, F0_H)
        with Locations((-1.5105807632, 0)):
            Rectangle(F0_W_2, F0_H)
    extrude(amount=F1_DEPTH)


solid = f1.part
